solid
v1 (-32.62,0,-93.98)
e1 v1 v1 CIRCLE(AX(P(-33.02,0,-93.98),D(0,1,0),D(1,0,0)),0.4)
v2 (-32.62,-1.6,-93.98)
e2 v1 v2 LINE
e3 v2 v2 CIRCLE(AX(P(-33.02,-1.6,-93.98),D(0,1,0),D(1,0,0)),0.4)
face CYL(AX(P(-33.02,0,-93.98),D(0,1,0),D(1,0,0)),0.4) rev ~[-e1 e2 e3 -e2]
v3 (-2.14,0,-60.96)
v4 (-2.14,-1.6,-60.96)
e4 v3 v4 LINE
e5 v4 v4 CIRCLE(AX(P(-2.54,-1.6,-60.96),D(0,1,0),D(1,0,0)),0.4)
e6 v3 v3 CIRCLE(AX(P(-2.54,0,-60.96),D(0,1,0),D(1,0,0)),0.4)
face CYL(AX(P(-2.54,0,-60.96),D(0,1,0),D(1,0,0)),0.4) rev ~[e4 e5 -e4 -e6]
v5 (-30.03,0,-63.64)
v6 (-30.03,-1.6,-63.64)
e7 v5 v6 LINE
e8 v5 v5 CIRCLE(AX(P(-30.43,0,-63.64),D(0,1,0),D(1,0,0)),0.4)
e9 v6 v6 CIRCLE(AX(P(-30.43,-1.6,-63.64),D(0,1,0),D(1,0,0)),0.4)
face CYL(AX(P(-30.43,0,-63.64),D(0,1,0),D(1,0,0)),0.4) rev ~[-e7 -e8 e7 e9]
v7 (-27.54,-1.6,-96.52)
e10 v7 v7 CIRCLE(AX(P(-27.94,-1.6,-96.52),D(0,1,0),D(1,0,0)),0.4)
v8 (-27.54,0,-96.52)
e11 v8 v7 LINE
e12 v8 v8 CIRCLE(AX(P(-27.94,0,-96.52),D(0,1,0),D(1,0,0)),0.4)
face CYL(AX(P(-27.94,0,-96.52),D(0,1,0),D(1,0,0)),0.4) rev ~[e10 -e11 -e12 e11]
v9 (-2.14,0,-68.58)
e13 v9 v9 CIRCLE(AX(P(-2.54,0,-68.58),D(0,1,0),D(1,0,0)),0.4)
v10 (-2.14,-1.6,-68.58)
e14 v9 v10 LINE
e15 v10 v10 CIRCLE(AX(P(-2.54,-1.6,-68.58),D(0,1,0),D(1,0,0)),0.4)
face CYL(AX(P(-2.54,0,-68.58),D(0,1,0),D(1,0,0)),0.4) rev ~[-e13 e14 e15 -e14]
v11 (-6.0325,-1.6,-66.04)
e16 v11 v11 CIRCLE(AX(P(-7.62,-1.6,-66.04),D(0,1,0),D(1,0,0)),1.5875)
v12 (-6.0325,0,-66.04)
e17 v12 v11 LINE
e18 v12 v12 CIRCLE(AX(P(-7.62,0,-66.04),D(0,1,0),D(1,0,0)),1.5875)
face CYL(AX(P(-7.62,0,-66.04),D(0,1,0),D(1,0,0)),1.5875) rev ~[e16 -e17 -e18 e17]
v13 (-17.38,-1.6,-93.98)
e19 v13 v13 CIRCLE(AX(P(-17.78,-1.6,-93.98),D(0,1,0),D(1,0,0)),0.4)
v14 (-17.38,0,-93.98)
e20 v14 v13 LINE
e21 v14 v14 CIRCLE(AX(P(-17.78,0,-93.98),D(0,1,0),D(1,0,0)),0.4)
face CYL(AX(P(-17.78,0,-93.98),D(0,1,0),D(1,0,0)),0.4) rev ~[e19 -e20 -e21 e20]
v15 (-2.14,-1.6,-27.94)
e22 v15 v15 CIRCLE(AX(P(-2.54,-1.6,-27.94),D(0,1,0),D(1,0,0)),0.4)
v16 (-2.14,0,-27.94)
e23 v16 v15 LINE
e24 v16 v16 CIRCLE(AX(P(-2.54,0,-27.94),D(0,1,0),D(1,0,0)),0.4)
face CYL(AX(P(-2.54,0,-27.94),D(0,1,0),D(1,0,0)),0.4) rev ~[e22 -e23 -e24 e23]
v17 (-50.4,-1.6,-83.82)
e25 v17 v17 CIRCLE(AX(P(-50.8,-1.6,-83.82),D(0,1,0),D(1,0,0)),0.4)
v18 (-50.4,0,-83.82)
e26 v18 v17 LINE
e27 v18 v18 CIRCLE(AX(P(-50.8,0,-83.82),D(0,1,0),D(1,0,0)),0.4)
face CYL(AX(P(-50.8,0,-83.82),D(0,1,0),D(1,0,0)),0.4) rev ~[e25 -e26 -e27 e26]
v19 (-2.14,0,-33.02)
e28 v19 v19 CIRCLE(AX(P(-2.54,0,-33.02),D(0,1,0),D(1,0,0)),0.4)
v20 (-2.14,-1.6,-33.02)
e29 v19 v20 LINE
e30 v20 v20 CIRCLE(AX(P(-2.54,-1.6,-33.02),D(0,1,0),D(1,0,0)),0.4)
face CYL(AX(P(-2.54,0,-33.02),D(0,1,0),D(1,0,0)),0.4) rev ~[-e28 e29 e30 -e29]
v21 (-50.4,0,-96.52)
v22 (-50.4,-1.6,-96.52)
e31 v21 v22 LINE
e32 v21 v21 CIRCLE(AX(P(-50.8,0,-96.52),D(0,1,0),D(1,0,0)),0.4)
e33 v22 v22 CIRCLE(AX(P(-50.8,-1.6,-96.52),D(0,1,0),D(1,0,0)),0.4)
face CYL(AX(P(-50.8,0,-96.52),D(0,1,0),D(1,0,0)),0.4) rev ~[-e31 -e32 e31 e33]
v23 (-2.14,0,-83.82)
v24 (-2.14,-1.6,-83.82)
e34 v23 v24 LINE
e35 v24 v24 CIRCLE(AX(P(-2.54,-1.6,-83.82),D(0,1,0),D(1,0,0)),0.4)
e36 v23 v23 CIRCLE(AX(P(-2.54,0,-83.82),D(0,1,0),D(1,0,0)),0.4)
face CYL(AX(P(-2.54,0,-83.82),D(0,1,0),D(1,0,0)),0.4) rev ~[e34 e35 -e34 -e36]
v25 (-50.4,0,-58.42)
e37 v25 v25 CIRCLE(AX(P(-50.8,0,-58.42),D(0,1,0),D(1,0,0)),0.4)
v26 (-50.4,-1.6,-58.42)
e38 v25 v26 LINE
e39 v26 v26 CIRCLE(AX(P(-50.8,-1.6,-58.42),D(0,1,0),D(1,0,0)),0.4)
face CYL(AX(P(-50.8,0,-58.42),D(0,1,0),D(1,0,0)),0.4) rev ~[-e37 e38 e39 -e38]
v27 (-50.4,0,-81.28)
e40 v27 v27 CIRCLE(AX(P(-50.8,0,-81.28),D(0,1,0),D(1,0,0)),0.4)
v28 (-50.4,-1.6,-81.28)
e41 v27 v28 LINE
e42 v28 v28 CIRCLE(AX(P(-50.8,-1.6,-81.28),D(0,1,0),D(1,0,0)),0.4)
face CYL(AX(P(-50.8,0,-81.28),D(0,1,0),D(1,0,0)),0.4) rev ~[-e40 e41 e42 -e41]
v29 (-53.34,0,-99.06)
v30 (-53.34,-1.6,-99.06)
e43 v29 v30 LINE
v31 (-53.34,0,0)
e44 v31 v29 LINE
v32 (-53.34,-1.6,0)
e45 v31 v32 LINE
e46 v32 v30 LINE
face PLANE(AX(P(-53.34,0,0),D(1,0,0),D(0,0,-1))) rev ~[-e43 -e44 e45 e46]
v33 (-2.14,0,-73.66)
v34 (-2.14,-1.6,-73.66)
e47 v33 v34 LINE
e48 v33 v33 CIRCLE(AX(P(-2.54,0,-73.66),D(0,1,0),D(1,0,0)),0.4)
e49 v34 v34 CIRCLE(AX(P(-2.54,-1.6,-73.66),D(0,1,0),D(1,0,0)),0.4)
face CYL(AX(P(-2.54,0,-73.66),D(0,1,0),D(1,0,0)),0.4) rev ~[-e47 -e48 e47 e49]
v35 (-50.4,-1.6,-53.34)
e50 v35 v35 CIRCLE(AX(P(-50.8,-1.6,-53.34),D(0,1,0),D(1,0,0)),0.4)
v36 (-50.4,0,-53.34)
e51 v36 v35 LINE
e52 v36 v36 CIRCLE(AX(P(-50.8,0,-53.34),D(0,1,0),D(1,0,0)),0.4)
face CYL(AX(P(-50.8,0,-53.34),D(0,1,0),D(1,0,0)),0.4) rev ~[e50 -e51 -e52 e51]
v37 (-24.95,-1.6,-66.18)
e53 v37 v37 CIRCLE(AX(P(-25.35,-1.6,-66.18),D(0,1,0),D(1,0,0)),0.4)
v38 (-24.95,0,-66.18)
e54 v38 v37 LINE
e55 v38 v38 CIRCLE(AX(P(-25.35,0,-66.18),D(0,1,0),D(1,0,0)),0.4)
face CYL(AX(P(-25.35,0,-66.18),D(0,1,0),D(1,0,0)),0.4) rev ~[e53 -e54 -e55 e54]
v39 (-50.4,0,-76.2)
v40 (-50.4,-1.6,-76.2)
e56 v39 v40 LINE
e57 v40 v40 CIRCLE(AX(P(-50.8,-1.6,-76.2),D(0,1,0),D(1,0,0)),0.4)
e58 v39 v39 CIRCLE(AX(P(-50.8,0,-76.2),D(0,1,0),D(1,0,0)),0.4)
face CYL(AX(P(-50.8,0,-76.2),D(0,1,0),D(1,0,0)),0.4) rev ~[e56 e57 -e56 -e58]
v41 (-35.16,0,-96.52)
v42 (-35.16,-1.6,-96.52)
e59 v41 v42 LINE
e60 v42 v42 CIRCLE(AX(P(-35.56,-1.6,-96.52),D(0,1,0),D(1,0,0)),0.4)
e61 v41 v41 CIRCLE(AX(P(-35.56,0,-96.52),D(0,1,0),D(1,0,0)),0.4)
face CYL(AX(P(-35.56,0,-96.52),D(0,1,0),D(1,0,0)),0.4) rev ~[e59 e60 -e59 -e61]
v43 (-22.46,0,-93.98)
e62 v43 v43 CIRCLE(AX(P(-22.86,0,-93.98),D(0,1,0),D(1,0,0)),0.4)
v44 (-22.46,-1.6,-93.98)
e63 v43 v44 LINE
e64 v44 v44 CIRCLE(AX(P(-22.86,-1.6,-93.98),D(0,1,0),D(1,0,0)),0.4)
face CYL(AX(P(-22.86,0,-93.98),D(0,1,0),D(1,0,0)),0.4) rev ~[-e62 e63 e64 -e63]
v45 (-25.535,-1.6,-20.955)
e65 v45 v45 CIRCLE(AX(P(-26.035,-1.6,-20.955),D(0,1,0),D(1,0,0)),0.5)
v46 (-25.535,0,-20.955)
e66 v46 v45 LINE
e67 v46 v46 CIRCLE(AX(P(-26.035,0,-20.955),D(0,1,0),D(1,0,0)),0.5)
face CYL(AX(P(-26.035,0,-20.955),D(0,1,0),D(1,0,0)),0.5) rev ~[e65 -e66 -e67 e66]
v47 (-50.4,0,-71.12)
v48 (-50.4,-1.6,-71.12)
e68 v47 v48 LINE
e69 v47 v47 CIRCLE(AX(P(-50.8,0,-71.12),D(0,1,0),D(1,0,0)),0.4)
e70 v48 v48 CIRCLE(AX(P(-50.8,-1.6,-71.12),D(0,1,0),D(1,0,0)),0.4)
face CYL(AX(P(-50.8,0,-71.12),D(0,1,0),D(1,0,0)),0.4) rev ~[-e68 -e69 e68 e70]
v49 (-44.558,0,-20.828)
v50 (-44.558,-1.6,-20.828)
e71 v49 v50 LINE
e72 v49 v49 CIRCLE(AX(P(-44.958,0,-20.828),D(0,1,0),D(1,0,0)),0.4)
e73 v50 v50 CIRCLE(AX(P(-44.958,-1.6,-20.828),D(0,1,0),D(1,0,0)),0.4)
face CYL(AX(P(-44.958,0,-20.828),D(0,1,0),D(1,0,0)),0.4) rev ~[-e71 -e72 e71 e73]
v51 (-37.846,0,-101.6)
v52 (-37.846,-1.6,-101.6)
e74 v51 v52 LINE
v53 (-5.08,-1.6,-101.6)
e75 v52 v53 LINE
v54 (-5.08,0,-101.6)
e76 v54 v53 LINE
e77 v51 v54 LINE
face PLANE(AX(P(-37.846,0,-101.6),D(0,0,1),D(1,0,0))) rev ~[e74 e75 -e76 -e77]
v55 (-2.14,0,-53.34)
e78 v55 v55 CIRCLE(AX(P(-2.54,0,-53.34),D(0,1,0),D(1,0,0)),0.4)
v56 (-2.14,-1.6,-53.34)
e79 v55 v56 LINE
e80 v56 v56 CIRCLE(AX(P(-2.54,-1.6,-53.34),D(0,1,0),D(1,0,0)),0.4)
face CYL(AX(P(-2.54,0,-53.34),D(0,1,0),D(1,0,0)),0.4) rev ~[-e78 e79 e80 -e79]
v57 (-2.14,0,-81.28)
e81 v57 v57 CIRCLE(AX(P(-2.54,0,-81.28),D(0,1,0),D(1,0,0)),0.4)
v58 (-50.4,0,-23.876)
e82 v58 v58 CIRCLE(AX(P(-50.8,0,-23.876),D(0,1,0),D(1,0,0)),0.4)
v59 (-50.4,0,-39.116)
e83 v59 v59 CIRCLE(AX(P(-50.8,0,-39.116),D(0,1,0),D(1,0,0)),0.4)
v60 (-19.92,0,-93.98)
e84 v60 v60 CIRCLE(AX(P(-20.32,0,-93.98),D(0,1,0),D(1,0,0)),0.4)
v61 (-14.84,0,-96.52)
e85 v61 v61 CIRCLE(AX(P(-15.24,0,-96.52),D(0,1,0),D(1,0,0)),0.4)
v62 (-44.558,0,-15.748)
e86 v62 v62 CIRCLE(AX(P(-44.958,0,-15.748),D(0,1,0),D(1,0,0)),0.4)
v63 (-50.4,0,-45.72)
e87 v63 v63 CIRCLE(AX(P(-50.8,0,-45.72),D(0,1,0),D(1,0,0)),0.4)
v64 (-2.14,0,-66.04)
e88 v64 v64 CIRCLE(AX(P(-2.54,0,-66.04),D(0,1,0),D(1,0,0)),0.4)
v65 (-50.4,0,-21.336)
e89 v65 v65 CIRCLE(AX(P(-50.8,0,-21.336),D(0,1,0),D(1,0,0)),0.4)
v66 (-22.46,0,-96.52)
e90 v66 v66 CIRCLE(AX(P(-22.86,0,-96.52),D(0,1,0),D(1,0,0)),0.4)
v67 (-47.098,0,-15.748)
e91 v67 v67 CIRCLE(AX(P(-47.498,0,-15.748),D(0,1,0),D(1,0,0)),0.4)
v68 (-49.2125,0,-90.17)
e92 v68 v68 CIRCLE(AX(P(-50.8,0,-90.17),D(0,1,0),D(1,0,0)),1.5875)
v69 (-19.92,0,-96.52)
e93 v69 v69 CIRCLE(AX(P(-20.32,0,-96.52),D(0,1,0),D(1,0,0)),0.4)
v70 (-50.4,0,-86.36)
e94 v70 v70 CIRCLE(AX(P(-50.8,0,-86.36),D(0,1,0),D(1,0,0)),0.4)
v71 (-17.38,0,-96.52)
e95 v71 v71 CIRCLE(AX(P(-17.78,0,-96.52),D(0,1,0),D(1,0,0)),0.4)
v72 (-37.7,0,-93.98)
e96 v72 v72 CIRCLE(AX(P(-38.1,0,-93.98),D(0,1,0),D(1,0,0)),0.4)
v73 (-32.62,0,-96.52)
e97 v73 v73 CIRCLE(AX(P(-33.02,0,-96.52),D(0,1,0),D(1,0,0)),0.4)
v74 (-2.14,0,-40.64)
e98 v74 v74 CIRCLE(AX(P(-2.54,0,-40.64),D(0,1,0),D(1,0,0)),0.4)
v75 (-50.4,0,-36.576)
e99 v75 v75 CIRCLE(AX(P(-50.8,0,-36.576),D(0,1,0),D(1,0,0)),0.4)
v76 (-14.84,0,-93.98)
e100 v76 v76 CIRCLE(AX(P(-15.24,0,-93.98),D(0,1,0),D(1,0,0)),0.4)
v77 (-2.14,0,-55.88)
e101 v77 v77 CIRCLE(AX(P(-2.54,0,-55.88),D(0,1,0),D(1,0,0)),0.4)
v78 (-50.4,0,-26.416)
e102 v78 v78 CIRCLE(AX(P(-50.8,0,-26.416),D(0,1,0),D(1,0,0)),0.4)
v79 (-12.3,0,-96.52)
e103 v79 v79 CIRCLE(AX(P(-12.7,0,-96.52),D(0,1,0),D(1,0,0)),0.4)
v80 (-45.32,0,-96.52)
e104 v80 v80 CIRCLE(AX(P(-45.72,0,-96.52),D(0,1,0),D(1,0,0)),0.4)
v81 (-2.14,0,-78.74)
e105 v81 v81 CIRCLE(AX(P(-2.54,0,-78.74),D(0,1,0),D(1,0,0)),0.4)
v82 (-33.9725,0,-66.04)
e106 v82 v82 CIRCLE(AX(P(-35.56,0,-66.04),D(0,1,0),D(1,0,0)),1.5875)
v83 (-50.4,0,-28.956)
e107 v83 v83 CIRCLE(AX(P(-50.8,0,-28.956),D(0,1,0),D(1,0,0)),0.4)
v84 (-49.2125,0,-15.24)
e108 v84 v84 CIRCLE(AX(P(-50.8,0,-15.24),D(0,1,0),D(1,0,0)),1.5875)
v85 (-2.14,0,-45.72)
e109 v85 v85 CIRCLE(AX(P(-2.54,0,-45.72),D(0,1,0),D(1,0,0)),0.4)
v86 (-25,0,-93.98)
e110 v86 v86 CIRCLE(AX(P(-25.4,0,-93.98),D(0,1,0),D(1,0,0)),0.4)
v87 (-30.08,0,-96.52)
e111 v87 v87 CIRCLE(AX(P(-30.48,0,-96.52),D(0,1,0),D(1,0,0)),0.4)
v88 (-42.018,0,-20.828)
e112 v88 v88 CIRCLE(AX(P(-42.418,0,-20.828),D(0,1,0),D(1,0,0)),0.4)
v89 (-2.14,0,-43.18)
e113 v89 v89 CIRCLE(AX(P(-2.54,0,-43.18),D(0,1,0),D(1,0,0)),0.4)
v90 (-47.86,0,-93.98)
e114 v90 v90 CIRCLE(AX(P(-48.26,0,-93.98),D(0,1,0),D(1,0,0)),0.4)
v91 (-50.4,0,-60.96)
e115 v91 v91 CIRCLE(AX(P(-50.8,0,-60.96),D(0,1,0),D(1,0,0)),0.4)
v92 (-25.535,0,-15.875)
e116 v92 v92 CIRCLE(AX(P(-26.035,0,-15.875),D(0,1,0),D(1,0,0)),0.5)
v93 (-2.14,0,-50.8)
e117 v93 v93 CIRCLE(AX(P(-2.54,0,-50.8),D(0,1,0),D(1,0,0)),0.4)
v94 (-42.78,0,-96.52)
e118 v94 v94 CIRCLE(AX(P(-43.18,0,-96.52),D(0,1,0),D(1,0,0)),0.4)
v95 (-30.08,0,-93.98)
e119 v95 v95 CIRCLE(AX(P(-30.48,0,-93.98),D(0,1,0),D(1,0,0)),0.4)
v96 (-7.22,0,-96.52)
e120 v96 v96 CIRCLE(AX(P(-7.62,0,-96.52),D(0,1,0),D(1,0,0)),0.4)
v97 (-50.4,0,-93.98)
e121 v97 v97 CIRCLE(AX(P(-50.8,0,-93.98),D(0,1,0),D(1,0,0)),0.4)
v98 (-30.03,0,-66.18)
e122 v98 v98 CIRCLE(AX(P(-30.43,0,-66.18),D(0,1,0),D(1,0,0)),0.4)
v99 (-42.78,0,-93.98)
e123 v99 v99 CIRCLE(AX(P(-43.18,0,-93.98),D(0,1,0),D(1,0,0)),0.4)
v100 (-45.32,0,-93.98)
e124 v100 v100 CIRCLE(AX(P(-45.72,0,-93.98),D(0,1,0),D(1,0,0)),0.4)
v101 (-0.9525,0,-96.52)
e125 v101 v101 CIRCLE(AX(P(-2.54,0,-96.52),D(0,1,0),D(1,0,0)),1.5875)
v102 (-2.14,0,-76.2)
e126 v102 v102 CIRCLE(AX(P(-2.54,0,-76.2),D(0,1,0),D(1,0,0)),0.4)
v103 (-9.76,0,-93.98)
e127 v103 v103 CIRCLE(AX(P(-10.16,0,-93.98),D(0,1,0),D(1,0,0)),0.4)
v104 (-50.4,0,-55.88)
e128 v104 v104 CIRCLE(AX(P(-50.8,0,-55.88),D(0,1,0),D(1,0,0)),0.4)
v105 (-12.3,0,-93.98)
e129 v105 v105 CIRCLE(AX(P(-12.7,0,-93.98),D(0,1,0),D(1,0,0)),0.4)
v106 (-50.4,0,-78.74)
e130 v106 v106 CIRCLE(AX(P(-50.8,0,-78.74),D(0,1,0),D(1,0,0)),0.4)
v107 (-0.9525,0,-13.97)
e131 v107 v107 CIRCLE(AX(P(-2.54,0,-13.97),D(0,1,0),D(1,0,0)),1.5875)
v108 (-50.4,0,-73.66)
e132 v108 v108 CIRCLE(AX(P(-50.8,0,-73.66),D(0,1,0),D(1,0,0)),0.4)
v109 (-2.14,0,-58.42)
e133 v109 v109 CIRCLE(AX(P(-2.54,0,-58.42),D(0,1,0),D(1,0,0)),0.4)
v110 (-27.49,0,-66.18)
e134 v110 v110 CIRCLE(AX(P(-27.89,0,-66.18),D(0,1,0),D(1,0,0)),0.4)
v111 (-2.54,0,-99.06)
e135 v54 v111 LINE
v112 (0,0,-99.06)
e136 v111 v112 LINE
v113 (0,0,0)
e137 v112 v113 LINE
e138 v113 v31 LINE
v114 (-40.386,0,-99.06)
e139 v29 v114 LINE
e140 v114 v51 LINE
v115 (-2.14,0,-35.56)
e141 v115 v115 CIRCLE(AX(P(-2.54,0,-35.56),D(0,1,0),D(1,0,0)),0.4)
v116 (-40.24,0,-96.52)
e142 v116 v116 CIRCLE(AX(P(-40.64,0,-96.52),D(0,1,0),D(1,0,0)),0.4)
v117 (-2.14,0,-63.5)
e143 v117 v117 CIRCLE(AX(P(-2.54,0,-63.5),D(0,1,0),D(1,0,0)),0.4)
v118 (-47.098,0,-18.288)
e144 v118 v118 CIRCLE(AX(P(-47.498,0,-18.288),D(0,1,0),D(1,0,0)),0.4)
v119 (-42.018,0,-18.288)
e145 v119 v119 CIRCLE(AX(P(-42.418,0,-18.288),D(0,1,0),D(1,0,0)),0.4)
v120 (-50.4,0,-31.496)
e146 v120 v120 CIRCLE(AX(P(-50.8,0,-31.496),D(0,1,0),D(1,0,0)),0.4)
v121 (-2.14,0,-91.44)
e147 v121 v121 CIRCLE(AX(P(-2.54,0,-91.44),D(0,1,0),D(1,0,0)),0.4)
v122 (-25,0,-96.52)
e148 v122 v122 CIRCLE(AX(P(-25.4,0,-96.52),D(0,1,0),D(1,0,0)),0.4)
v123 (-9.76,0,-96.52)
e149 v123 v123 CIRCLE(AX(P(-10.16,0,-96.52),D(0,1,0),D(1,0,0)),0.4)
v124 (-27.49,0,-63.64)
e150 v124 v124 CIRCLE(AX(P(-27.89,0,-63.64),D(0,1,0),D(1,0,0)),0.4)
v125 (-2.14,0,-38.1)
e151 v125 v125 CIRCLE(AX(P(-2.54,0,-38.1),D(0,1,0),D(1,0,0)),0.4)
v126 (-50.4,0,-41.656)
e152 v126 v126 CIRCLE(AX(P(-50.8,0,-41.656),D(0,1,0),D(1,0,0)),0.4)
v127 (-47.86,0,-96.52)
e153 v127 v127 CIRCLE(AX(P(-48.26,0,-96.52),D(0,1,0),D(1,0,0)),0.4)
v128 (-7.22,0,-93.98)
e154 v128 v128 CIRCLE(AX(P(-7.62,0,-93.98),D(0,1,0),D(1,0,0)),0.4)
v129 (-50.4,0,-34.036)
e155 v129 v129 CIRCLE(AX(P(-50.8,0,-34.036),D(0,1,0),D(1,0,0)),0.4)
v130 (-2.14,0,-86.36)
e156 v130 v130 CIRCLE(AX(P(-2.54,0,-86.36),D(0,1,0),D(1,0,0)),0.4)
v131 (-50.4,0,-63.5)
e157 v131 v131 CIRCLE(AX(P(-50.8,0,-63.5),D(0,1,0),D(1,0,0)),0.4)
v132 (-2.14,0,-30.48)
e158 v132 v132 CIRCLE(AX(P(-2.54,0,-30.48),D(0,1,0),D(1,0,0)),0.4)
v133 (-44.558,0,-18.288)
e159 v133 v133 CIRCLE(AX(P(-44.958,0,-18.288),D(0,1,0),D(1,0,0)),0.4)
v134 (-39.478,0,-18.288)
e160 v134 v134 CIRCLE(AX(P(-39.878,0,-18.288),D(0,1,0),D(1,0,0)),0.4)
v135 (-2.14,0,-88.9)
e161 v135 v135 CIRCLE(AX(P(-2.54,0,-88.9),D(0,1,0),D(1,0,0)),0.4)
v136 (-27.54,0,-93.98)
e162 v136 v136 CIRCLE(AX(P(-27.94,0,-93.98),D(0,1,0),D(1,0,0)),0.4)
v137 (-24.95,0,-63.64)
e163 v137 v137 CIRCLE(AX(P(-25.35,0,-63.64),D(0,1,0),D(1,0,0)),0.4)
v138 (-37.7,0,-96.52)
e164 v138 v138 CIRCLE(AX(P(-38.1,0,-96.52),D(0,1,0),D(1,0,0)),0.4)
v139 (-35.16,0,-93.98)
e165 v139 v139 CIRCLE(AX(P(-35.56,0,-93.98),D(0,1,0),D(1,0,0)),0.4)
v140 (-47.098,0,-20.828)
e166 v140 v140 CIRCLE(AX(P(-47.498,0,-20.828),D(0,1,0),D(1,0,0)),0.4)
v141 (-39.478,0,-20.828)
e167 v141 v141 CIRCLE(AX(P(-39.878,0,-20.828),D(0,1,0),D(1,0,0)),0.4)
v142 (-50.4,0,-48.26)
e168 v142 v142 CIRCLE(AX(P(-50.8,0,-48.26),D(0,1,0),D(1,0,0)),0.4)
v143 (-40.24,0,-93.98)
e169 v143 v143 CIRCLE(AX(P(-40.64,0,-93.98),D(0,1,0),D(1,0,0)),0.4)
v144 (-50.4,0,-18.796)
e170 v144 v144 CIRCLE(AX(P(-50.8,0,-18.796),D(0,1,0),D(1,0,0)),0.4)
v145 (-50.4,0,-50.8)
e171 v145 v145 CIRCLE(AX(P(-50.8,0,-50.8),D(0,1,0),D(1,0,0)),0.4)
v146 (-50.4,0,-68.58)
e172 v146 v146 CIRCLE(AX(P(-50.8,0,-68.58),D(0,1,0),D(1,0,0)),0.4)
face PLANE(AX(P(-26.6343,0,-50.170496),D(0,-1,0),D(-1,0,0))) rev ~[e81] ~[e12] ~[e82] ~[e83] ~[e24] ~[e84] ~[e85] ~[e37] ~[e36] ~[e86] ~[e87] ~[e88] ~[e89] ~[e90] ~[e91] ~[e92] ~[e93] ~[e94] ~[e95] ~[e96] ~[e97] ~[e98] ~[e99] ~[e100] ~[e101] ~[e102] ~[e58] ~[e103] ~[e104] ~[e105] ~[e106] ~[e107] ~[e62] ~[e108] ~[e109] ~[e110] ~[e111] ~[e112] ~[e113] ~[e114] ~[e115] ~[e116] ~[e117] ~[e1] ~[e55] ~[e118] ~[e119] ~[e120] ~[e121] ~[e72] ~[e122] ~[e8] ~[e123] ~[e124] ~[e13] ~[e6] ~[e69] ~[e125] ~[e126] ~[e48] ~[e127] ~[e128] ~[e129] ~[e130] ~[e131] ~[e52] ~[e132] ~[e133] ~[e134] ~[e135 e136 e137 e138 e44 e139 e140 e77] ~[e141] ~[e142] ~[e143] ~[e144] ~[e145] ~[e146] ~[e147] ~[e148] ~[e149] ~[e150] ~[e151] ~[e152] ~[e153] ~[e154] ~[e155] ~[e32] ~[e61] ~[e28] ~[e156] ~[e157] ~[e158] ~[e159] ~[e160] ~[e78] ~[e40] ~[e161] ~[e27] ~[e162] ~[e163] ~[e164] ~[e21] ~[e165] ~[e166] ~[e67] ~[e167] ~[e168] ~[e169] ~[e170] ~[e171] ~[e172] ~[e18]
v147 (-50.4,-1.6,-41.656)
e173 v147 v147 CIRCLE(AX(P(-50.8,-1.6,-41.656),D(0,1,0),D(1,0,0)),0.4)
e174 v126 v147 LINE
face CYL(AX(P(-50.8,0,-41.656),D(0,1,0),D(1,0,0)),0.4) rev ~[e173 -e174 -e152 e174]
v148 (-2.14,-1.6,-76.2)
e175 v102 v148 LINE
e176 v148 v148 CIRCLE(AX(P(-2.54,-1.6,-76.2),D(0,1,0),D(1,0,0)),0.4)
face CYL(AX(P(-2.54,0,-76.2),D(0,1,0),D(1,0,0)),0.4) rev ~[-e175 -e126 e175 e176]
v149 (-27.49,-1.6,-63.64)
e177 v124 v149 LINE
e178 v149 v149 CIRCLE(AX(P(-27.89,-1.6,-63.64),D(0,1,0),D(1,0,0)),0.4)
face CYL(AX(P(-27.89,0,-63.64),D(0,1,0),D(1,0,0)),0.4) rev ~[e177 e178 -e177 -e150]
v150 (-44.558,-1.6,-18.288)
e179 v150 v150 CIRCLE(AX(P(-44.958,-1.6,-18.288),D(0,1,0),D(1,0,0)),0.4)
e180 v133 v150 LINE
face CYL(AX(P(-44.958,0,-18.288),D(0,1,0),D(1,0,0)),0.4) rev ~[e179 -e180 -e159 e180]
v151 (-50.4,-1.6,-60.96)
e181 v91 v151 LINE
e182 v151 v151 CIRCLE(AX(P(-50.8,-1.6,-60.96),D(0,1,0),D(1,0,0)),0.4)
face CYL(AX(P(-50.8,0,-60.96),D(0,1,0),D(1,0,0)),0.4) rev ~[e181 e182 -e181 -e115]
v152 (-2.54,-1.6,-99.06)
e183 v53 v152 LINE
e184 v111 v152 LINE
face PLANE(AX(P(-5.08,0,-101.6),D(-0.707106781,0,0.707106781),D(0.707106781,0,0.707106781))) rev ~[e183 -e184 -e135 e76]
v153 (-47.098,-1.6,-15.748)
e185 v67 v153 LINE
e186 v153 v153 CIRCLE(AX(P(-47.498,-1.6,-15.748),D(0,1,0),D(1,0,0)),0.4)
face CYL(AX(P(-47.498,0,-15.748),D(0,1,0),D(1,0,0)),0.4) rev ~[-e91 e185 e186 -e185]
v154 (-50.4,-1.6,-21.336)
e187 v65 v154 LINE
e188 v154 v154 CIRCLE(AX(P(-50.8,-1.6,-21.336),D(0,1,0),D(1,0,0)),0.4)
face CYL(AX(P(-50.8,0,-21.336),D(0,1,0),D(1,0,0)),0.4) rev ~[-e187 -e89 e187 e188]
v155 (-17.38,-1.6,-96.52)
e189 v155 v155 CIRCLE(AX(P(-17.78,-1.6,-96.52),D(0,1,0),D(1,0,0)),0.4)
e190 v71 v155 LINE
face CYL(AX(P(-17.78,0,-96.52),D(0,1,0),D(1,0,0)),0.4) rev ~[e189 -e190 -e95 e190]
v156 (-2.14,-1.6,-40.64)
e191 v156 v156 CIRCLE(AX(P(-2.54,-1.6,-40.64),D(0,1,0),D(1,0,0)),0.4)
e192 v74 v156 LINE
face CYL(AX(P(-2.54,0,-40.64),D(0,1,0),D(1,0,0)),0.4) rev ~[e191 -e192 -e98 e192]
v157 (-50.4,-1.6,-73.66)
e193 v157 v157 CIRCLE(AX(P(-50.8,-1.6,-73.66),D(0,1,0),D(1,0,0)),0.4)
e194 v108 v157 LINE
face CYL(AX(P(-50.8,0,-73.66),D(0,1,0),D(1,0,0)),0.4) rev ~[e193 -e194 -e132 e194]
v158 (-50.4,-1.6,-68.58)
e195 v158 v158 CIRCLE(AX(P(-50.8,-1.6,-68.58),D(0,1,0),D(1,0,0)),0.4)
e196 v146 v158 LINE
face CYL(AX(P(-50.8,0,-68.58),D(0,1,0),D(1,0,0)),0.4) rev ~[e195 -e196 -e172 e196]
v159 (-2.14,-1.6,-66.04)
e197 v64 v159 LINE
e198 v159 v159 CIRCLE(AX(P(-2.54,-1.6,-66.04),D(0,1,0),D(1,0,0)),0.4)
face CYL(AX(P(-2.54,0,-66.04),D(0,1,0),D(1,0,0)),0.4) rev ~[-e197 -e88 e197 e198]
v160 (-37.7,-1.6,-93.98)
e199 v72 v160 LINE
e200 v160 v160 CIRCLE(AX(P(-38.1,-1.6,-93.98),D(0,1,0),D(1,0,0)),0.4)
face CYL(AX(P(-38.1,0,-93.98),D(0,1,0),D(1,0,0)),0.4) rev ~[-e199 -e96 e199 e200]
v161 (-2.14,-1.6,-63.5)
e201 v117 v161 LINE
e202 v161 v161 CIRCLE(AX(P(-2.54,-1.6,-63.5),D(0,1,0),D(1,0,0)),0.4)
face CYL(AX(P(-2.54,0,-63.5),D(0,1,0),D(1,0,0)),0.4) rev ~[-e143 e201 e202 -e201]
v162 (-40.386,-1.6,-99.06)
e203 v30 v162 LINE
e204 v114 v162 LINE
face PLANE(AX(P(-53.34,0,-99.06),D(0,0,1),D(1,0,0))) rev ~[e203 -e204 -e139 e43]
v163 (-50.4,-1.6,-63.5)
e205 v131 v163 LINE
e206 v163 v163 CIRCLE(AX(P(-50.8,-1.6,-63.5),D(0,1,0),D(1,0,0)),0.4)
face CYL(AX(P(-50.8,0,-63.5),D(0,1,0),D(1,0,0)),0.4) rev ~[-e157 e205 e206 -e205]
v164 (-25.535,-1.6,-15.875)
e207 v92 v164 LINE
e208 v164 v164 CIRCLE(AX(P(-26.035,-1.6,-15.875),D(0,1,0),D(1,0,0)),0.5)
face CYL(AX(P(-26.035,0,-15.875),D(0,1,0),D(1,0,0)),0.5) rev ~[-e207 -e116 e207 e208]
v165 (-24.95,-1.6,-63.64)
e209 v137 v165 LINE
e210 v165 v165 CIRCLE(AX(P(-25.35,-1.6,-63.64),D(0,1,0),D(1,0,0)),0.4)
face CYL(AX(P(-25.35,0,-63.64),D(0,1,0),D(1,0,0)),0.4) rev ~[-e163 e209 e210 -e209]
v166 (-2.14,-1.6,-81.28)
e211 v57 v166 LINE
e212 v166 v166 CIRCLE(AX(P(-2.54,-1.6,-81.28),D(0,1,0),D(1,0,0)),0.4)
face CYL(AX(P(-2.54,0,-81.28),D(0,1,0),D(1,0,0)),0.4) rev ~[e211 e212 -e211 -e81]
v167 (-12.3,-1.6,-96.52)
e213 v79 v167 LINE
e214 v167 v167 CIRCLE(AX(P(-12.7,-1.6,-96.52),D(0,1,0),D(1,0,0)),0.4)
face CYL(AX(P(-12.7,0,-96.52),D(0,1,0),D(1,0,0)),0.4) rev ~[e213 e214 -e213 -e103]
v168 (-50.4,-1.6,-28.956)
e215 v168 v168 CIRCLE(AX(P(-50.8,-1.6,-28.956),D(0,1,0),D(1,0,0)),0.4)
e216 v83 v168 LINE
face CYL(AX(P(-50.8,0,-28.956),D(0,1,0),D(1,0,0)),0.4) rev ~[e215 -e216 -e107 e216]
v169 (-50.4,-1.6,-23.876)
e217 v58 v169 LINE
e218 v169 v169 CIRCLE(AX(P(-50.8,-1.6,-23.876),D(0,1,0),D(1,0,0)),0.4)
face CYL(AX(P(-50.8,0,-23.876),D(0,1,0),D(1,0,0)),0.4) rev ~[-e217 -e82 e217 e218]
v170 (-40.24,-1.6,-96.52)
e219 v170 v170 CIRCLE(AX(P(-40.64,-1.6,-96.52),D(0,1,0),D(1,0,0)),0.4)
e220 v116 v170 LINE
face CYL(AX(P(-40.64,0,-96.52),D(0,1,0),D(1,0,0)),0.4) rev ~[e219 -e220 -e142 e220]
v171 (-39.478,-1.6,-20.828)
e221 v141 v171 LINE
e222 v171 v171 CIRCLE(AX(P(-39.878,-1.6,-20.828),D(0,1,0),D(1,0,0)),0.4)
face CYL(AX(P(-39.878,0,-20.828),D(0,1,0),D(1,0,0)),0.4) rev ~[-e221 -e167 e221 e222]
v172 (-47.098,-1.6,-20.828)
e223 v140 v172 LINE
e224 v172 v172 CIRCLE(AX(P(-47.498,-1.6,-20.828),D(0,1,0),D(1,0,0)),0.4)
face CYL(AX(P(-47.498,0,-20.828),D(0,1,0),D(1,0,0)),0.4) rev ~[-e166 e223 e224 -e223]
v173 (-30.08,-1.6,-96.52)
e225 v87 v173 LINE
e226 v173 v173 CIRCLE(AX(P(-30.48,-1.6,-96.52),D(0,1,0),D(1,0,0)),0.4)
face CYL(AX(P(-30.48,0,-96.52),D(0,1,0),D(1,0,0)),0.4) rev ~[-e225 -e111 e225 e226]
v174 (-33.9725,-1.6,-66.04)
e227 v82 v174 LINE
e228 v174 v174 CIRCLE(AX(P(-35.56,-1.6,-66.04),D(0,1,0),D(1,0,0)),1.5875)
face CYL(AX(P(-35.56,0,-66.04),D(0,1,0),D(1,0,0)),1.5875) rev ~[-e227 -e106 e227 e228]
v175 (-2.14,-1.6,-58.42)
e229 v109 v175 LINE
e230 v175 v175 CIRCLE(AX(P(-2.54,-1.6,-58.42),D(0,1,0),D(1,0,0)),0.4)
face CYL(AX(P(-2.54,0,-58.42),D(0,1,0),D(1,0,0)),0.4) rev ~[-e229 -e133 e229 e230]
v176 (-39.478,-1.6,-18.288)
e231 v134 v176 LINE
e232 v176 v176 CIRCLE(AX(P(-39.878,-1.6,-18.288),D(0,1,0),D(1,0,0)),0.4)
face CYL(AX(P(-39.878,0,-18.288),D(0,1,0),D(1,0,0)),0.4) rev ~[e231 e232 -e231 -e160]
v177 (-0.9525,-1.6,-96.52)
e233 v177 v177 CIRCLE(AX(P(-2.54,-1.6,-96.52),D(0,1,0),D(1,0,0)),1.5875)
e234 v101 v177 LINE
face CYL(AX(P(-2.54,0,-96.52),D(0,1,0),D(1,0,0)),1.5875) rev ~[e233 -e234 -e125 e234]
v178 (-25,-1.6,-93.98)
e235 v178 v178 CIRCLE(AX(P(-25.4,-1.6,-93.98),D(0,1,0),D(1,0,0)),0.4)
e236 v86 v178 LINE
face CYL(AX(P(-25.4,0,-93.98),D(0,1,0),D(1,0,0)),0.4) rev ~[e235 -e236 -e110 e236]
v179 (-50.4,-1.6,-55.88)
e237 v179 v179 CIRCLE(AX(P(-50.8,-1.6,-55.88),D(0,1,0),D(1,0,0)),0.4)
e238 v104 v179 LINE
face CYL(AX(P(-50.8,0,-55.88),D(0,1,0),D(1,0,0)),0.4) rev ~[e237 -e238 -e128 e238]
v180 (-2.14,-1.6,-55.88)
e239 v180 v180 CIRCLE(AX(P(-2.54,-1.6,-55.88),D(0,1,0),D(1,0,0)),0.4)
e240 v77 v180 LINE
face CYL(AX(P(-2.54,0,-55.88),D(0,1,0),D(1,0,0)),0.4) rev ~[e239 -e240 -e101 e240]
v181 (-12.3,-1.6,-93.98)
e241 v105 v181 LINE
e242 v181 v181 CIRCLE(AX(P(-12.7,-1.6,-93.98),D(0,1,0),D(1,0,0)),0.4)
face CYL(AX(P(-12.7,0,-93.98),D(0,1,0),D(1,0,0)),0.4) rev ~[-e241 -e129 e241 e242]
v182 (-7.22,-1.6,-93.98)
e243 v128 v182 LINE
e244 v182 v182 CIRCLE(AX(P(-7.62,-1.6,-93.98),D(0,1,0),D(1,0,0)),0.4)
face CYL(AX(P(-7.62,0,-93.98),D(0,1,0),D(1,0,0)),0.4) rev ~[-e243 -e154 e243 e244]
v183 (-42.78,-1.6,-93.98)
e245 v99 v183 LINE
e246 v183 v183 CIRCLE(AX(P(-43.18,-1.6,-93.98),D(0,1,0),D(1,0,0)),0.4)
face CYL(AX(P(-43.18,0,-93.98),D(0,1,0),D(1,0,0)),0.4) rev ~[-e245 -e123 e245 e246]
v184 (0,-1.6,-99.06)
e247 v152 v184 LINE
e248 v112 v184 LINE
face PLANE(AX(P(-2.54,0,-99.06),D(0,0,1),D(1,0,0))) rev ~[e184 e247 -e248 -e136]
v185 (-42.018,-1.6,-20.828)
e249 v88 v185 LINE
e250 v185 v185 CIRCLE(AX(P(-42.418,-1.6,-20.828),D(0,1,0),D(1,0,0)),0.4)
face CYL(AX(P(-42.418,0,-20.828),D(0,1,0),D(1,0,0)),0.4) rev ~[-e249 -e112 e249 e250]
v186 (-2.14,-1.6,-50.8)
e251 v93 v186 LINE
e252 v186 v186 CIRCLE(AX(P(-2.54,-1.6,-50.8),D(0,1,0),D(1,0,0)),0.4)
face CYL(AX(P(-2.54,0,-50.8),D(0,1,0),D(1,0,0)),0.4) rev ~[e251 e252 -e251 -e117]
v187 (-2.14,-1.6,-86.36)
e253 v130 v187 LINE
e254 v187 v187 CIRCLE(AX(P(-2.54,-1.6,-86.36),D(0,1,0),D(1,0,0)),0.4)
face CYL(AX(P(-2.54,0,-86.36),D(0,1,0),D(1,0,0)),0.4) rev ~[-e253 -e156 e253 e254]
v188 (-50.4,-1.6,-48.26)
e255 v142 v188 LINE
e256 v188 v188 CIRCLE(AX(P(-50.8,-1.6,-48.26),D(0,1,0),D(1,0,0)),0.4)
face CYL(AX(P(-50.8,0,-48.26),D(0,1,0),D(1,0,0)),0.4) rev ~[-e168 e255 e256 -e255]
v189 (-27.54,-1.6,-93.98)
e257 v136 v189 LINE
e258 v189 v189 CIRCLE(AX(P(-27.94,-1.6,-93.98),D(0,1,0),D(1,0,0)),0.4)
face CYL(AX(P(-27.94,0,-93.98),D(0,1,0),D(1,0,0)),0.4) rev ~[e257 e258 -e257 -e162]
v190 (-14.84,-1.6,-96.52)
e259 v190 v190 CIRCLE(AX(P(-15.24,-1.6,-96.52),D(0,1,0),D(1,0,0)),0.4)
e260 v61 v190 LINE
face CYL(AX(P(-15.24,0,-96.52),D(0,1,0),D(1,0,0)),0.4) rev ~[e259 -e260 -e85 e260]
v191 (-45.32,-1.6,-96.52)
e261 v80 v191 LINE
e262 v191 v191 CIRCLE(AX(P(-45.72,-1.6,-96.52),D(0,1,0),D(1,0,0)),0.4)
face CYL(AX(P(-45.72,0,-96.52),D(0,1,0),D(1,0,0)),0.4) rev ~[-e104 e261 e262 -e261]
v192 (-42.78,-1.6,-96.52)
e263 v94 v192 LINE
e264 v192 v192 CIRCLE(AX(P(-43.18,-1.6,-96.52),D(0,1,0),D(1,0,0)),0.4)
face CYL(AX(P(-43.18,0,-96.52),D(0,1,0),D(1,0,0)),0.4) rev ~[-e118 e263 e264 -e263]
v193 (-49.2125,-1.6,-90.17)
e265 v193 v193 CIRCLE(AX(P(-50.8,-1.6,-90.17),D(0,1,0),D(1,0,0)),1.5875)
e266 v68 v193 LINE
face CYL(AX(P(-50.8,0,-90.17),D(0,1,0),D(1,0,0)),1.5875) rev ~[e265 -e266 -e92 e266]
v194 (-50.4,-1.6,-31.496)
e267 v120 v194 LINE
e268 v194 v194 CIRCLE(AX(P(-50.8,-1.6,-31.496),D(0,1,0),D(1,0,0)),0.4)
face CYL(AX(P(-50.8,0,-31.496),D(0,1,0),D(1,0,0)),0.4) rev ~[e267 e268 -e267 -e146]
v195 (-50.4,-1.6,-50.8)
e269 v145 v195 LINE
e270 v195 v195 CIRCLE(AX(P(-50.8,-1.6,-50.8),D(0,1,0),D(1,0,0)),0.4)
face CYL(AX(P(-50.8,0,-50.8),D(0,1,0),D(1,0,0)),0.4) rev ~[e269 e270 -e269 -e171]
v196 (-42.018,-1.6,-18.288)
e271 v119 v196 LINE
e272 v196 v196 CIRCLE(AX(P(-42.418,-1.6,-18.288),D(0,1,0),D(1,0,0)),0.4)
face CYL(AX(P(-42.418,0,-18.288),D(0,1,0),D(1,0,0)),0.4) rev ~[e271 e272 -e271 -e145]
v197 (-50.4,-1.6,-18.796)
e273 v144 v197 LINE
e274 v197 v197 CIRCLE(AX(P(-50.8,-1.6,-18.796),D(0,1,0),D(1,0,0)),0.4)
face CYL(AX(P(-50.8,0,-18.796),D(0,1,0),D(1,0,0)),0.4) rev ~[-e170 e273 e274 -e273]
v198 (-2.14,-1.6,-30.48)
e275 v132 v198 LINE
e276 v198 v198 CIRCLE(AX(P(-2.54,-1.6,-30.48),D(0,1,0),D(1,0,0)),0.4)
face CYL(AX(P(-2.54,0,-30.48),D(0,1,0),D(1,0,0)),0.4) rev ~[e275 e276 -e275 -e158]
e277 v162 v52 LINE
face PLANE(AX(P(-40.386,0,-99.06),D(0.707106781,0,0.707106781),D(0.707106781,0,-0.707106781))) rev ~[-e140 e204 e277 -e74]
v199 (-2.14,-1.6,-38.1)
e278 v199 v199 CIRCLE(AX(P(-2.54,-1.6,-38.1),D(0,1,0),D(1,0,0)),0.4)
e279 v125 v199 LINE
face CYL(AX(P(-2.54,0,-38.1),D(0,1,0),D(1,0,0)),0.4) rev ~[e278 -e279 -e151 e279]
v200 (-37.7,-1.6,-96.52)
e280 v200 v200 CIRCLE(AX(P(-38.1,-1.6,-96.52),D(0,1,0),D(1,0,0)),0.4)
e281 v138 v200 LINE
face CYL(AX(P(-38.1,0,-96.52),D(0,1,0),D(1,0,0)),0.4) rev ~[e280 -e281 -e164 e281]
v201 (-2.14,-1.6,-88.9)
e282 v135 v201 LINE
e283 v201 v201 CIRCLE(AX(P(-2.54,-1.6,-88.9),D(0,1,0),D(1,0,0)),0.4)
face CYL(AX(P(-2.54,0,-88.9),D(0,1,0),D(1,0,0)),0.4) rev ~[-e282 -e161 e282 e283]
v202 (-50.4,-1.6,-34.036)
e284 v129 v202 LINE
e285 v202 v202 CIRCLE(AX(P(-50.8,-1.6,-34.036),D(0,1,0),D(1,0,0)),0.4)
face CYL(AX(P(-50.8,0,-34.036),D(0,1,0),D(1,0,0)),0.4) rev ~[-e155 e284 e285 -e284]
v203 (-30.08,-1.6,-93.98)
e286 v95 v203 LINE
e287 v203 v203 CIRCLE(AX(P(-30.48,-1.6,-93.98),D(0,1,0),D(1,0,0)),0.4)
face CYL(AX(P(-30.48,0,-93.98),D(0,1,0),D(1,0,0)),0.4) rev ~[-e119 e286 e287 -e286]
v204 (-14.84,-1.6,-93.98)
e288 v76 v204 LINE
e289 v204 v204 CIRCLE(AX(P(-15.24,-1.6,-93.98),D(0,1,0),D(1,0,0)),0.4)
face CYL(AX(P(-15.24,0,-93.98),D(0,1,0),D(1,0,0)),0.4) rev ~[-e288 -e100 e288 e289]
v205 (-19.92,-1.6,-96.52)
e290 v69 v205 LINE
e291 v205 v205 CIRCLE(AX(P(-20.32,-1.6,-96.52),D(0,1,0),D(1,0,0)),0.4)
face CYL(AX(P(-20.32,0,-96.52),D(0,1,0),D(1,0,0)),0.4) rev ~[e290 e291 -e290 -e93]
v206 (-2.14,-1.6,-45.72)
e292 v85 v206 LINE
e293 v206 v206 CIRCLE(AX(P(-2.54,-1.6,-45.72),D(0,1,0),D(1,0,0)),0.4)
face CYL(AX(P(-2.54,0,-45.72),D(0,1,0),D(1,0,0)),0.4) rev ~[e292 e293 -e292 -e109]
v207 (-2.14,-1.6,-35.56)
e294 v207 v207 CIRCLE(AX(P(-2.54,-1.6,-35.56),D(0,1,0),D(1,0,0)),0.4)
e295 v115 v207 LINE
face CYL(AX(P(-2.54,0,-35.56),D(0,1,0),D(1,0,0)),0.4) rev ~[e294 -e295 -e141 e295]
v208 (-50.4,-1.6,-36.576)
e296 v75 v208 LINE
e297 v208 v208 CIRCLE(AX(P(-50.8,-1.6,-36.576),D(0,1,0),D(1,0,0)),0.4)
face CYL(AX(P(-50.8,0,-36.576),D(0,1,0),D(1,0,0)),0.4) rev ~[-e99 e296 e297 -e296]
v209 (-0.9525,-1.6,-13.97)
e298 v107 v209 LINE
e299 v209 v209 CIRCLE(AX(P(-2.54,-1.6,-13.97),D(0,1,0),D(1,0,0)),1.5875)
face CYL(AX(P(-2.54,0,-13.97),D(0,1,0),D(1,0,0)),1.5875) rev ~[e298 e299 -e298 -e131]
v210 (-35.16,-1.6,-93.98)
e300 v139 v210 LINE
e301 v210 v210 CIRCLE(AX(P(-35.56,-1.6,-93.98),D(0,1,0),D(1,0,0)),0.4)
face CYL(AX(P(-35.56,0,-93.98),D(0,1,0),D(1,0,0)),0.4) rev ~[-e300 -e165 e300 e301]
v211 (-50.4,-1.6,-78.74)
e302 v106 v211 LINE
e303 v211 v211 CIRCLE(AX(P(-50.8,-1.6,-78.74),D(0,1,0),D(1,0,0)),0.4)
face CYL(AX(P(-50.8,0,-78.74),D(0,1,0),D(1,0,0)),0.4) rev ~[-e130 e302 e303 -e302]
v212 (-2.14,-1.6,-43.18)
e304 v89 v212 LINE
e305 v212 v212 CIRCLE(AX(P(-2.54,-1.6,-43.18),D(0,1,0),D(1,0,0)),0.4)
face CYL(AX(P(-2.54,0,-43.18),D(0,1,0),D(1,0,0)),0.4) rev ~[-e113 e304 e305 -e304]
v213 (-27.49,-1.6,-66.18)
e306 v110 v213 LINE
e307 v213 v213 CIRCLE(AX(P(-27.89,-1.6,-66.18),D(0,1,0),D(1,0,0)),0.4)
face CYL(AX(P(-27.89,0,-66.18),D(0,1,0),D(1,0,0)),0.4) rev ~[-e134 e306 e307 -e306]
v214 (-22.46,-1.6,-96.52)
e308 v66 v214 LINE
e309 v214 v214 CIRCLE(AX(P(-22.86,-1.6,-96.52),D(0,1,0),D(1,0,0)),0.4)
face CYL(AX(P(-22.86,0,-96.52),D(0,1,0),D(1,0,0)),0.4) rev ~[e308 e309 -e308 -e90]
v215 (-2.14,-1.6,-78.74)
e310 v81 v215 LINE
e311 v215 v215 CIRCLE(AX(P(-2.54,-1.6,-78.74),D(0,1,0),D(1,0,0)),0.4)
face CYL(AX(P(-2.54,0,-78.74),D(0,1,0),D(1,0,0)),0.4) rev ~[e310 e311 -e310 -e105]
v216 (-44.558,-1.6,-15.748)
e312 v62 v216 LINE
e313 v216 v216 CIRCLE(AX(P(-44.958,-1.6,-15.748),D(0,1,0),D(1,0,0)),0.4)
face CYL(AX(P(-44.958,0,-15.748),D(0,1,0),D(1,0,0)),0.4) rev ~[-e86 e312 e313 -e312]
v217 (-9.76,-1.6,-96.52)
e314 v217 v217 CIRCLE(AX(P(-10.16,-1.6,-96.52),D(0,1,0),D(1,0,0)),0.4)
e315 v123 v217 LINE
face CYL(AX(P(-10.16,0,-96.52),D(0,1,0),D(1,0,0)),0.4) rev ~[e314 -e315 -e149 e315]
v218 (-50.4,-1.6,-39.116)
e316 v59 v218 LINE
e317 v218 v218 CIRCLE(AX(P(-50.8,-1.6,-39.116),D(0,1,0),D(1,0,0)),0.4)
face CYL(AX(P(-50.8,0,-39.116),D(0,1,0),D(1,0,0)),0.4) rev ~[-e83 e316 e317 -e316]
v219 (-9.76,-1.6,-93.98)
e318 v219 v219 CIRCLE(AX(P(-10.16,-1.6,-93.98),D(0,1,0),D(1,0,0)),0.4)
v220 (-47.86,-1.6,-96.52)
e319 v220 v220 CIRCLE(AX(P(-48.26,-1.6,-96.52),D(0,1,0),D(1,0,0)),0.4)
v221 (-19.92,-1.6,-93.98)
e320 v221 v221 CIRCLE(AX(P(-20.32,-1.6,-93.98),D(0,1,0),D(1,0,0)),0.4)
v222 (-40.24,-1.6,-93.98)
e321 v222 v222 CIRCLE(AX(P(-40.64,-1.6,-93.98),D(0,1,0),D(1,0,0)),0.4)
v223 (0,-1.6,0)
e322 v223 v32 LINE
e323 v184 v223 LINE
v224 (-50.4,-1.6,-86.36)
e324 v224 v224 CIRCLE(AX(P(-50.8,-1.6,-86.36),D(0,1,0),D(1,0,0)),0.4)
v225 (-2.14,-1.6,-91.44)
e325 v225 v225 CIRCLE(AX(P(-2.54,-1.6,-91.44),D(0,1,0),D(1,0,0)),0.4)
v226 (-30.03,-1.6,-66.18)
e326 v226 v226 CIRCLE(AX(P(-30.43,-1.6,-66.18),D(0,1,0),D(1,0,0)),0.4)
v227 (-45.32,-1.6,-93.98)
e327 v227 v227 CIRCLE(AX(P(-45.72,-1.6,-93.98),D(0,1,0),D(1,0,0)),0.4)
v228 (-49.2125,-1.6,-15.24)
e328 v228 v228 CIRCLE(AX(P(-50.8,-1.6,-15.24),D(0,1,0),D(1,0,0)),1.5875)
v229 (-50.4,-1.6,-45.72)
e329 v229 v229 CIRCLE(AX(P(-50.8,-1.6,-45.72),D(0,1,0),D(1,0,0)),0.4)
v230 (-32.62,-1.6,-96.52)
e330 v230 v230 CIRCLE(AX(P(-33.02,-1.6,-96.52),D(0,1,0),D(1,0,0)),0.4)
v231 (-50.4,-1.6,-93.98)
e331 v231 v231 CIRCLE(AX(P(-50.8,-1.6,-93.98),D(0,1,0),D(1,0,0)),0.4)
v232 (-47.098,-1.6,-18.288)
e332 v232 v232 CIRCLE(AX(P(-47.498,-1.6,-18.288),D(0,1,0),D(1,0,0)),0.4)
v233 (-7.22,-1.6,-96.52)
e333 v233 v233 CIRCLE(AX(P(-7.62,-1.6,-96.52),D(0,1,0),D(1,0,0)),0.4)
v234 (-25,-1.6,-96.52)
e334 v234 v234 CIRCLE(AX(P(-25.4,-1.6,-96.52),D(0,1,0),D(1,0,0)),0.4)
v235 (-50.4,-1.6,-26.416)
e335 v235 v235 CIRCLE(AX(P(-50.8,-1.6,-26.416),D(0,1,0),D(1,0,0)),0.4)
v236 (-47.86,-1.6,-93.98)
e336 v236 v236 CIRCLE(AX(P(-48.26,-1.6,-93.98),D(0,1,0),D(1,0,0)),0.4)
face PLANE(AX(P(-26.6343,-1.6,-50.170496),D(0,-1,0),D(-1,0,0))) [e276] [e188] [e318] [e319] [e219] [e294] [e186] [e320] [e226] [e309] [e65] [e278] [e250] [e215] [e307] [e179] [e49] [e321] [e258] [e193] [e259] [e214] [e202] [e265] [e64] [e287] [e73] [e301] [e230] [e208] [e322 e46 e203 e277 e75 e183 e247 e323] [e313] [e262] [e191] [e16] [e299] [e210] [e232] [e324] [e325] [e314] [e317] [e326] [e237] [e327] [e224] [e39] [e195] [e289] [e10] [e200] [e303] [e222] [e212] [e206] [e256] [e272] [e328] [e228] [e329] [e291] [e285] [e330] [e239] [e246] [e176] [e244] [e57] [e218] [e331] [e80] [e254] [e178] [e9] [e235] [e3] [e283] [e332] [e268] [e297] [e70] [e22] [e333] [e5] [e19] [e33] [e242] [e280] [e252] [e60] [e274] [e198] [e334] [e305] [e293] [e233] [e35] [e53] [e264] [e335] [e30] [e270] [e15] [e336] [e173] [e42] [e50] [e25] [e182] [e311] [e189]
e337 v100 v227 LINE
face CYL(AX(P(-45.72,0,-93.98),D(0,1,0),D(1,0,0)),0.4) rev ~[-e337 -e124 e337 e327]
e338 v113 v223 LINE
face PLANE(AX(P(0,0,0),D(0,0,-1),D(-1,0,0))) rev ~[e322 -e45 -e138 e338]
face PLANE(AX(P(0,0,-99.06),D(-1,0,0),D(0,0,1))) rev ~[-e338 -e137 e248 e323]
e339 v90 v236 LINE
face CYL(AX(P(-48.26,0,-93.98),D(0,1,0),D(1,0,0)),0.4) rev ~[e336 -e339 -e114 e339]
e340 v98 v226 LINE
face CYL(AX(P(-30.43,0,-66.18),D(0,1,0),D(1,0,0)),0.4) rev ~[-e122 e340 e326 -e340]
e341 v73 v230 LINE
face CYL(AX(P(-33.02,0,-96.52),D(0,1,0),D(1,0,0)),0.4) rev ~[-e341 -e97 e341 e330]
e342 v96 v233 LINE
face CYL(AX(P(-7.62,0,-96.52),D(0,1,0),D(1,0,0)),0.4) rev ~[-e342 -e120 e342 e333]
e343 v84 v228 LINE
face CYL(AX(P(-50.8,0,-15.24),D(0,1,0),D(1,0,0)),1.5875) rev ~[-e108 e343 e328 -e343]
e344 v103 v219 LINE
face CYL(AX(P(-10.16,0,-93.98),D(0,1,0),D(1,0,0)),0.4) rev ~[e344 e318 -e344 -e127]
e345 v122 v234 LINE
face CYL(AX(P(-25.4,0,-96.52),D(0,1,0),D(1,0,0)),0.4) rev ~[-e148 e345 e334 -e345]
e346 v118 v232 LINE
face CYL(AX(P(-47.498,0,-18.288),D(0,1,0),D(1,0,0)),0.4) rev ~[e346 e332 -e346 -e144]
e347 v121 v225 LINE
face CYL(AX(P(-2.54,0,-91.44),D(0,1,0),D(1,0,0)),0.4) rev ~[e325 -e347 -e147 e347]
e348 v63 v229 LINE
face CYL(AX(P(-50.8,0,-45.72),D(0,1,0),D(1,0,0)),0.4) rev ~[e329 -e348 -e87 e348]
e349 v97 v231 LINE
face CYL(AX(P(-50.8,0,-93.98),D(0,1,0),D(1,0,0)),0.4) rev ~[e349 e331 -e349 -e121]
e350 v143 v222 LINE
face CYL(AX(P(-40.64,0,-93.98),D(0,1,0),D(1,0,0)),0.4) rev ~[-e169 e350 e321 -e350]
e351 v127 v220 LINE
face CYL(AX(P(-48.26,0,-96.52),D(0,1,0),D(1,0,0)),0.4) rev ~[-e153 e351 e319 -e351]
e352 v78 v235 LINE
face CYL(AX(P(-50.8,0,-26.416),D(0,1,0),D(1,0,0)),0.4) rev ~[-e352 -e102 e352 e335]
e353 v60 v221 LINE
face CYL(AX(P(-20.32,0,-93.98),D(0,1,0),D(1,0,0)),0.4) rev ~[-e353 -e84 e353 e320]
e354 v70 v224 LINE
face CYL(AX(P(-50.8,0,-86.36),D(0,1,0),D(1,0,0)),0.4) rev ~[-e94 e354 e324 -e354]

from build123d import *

# Parameters (mm, degrees)
SKETCH1_R           = 1.5875
BOSS_EXTRUDE1_DEPTH = 1.6
SKETCH2_R           = 0.4
CUT_EXTRUDE1_DEPTH  = 1.65
SKETCH3_R           = 0.4
CUT_EXTRUDE2_DEPTH  = 1.65
LPATTERN1_COUNT     = 26
LPATTERN1_PITCH     = 2.54
SKETCH4_R           = 0.4
CUT_EXTRUDE3_DEPTH  = 1.65
LPATTERN2_COUNT     = 10
LPATTERN2_PITCH     = 2.54
LPATTERN3_COUNT     = 17
LPATTERN3_PITCH     = 2.54
SKETCH5_R           = 0.4
SKETCH5_R_2         = 0.5
CUT_EXTRUDE4_DEPTH  = 10
SKETCH7_R           = 0.4
CUT_EXTRUDE6_DEPTH  = 10
LPATTERN4_COUNT     = 18
LPATTERN4_PITCH     = 2.54


with BuildPart() as part:
    # Sketch1 → Boss-Extrude1 (new body)
    with BuildSketch(Plane(origin=(0, 0, 0), x_dir=(1, 0, 0), z_dir=(0, 1, 0))):
        Polygon((0, 0), (-53.34, 0), (-53.34, 99.06), (-40.386, 99.06), (-37.846, 101.6), (-5.08, 101.6), (-2.54, 99.06), (0, 99.06), align=None)
        with Locations((-7.62, 66.04)):
            Circle(SKETCH1_R, mode=Mode.SUBTRACT)
        with Locations((-35.56, 66.04)):
            Circle(SKETCH1_R, mode=Mode.SUBTRACT)
        with Locations((-2.54, 13.97)):
            Circle(SKETCH1_R, mode=Mode.SUBTRACT)
        with Locations((-50.8, 15.24)):
            Circle(SKETCH1_R, mode=Mode.SUBTRACT)
        with Locations((-2.54, 96.52)):
            Circle(SKETCH1_R, mode=Mode.SUBTRACT)
        with Locations((-50.8, 90.17)):
            Circle(SKETCH1_R, mode=Mode.SUBTRACT)
    extrude(amount=-BOSS_EXTRUDE1_DEPTH)

    # Sketch2 → Cut-Extrude1 (cut)
    with BuildSketch(Plane(origin=(0, 0, 0), x_dir=(1, 0, 0), z_dir=(0, 1, 0))):
        with Locations((-2.54, 27.94)):
            Circle(SKETCH2_R)
    cut_extrude1 = extrude(amount=-CUT_EXTRUDE1_DEPTH, mode=Mode.SUBTRACT)

    # Sketch3 → Cut-Extrude2 (cut)
    with BuildSketch(Plane(origin=(0, 0, 0), x_dir=(1, 0, 0), z_dir=(0, 1, 0))):
        with Locations((-50.8, 18.796)):
            Circle(SKETCH3_R)
    cut_extrude2 = extrude(amount=-CUT_EXTRUDE2_DEPTH, mode=Mode.SUBTRACT)

    # LPattern1: Cut-Extrude1 ×26, 2 skipped
    with Locations(*[(0, 0, -i * LPATTERN1_PITCH) for i in range(1, LPATTERN1_COUNT) if i not in (8, 17)]):
        add(cut_extrude1, mode=Mode.SUBTRACT)

    # Sketch4 → Cut-Extrude3 (cut)
    with BuildSketch(Plane(origin=(0, 0, 0), x_dir=(1, 0, 0), z_dir=(0, 1, 0))):
        with Locations((-50.8, 45.72)):
            Circle(SKETCH4_R)
    cut_extrude3 = extrude(amount=-CUT_EXTRUDE3_DEPTH, mode=Mode.SUBTRACT)

    # LPattern2: Cut-Extrude2 ×10
    with Locations(*[(0, 0, -i * LPATTERN2_PITCH) for i in range(1, LPATTERN2_COUNT)]):
        add(cut_extrude2, mode=Mode.SUBTRACT)

    # LPattern3: Cut-Extrude3 ×17, 1 skipped
    with Locations(*[(0, 0, -i * LPATTERN3_PITCH) for i in range(1, LPATTERN3_COUNT) if i not in (8,)]):
        add(cut_extrude3, mode=Mode.SUBTRACT)

    # Sketch5 → Cut-Extrude4 (cut)
    with BuildSketch(Plane(origin=(0, 0, 0), x_dir=(1, 0, 0), z_dir=(0, 1, 0))):
        with Locations((-30.43, 66.18)):
            Circle(SKETCH5_R)
        with Locations((-27.89, 66.18)):
            Circle(SKETCH5_R)
        with Locations((-25.35, 66.18)):
            Circle(SKETCH5_R)
        with Locations((-25.35, 63.64)):
            Circle(SKETCH5_R)
        with Locations((-27.89, 63.64)):
            Circle(SKETCH5_R)
        with Locations((-30.43, 63.64)):
            Circle(SKETCH5_R)
        with Locations((-47.498, 15.748)):
            Circle(SKETCH5_R)
        with Locations((-47.498, 18.288)):
            Circle(SKETCH5_R)
        with Locations((-47.498, 20.828)):
            Circle(SKETCH5_R)
        with Locations((-44.958, 20.828)):
            Circle(SKETCH5_R)
        with Locations((-44.958, 18.288)):
            Circle(SKETCH5_R)
        with Locations((-44.958, 15.748)):
            Circle(SKETCH5_R)
        with Locations((-42.418, 18.288)):
            Circle(SKETCH5_R)
        with Locations((-42.418, 20.828)):
            Circle(SKETCH5_R)
        with Locations((-39.878, 20.828)):
            Circle(SKETCH5_R)
        with Locations((-39.878, 18.288)):
            Circle(SKETCH5_R)
        with Locations((-26.035, 20.955)):
            Circle(SKETCH5_R_2)
        with Locations((-26.035, 15.875)):
            Circle(SKETCH5_R_2)
    extrude(amount=-CUT_EXTRUDE4_DEPTH, mode=Mode.SUBTRACT)

    # Sketch7 → Cut-Extrude6 (cut)
    with BuildSketch(Plane(origin=(0, 0, 0), x_dir=(1, 0, 0), z_dir=(0, 1, 0))):
        with Locations((-50.8, 96.52)):
            Circle(SKETCH7_R)
        with Locations((-50.8, 93.98)):
            Circle(SKETCH7_R)
    cut_extrude6 = extrude(amount=-CUT_EXTRUDE6_DEPTH, mode=Mode.SUBTRACT)

    # LPattern4: Cut-Extrude6 ×18
    with Locations(*[(i * LPATTERN4_PITCH, 0, 0) for i in range(1, LPATTERN4_COUNT)]):
        add(cut_extrude6, mode=Mode.SUBTRACT)


solid = part.part
